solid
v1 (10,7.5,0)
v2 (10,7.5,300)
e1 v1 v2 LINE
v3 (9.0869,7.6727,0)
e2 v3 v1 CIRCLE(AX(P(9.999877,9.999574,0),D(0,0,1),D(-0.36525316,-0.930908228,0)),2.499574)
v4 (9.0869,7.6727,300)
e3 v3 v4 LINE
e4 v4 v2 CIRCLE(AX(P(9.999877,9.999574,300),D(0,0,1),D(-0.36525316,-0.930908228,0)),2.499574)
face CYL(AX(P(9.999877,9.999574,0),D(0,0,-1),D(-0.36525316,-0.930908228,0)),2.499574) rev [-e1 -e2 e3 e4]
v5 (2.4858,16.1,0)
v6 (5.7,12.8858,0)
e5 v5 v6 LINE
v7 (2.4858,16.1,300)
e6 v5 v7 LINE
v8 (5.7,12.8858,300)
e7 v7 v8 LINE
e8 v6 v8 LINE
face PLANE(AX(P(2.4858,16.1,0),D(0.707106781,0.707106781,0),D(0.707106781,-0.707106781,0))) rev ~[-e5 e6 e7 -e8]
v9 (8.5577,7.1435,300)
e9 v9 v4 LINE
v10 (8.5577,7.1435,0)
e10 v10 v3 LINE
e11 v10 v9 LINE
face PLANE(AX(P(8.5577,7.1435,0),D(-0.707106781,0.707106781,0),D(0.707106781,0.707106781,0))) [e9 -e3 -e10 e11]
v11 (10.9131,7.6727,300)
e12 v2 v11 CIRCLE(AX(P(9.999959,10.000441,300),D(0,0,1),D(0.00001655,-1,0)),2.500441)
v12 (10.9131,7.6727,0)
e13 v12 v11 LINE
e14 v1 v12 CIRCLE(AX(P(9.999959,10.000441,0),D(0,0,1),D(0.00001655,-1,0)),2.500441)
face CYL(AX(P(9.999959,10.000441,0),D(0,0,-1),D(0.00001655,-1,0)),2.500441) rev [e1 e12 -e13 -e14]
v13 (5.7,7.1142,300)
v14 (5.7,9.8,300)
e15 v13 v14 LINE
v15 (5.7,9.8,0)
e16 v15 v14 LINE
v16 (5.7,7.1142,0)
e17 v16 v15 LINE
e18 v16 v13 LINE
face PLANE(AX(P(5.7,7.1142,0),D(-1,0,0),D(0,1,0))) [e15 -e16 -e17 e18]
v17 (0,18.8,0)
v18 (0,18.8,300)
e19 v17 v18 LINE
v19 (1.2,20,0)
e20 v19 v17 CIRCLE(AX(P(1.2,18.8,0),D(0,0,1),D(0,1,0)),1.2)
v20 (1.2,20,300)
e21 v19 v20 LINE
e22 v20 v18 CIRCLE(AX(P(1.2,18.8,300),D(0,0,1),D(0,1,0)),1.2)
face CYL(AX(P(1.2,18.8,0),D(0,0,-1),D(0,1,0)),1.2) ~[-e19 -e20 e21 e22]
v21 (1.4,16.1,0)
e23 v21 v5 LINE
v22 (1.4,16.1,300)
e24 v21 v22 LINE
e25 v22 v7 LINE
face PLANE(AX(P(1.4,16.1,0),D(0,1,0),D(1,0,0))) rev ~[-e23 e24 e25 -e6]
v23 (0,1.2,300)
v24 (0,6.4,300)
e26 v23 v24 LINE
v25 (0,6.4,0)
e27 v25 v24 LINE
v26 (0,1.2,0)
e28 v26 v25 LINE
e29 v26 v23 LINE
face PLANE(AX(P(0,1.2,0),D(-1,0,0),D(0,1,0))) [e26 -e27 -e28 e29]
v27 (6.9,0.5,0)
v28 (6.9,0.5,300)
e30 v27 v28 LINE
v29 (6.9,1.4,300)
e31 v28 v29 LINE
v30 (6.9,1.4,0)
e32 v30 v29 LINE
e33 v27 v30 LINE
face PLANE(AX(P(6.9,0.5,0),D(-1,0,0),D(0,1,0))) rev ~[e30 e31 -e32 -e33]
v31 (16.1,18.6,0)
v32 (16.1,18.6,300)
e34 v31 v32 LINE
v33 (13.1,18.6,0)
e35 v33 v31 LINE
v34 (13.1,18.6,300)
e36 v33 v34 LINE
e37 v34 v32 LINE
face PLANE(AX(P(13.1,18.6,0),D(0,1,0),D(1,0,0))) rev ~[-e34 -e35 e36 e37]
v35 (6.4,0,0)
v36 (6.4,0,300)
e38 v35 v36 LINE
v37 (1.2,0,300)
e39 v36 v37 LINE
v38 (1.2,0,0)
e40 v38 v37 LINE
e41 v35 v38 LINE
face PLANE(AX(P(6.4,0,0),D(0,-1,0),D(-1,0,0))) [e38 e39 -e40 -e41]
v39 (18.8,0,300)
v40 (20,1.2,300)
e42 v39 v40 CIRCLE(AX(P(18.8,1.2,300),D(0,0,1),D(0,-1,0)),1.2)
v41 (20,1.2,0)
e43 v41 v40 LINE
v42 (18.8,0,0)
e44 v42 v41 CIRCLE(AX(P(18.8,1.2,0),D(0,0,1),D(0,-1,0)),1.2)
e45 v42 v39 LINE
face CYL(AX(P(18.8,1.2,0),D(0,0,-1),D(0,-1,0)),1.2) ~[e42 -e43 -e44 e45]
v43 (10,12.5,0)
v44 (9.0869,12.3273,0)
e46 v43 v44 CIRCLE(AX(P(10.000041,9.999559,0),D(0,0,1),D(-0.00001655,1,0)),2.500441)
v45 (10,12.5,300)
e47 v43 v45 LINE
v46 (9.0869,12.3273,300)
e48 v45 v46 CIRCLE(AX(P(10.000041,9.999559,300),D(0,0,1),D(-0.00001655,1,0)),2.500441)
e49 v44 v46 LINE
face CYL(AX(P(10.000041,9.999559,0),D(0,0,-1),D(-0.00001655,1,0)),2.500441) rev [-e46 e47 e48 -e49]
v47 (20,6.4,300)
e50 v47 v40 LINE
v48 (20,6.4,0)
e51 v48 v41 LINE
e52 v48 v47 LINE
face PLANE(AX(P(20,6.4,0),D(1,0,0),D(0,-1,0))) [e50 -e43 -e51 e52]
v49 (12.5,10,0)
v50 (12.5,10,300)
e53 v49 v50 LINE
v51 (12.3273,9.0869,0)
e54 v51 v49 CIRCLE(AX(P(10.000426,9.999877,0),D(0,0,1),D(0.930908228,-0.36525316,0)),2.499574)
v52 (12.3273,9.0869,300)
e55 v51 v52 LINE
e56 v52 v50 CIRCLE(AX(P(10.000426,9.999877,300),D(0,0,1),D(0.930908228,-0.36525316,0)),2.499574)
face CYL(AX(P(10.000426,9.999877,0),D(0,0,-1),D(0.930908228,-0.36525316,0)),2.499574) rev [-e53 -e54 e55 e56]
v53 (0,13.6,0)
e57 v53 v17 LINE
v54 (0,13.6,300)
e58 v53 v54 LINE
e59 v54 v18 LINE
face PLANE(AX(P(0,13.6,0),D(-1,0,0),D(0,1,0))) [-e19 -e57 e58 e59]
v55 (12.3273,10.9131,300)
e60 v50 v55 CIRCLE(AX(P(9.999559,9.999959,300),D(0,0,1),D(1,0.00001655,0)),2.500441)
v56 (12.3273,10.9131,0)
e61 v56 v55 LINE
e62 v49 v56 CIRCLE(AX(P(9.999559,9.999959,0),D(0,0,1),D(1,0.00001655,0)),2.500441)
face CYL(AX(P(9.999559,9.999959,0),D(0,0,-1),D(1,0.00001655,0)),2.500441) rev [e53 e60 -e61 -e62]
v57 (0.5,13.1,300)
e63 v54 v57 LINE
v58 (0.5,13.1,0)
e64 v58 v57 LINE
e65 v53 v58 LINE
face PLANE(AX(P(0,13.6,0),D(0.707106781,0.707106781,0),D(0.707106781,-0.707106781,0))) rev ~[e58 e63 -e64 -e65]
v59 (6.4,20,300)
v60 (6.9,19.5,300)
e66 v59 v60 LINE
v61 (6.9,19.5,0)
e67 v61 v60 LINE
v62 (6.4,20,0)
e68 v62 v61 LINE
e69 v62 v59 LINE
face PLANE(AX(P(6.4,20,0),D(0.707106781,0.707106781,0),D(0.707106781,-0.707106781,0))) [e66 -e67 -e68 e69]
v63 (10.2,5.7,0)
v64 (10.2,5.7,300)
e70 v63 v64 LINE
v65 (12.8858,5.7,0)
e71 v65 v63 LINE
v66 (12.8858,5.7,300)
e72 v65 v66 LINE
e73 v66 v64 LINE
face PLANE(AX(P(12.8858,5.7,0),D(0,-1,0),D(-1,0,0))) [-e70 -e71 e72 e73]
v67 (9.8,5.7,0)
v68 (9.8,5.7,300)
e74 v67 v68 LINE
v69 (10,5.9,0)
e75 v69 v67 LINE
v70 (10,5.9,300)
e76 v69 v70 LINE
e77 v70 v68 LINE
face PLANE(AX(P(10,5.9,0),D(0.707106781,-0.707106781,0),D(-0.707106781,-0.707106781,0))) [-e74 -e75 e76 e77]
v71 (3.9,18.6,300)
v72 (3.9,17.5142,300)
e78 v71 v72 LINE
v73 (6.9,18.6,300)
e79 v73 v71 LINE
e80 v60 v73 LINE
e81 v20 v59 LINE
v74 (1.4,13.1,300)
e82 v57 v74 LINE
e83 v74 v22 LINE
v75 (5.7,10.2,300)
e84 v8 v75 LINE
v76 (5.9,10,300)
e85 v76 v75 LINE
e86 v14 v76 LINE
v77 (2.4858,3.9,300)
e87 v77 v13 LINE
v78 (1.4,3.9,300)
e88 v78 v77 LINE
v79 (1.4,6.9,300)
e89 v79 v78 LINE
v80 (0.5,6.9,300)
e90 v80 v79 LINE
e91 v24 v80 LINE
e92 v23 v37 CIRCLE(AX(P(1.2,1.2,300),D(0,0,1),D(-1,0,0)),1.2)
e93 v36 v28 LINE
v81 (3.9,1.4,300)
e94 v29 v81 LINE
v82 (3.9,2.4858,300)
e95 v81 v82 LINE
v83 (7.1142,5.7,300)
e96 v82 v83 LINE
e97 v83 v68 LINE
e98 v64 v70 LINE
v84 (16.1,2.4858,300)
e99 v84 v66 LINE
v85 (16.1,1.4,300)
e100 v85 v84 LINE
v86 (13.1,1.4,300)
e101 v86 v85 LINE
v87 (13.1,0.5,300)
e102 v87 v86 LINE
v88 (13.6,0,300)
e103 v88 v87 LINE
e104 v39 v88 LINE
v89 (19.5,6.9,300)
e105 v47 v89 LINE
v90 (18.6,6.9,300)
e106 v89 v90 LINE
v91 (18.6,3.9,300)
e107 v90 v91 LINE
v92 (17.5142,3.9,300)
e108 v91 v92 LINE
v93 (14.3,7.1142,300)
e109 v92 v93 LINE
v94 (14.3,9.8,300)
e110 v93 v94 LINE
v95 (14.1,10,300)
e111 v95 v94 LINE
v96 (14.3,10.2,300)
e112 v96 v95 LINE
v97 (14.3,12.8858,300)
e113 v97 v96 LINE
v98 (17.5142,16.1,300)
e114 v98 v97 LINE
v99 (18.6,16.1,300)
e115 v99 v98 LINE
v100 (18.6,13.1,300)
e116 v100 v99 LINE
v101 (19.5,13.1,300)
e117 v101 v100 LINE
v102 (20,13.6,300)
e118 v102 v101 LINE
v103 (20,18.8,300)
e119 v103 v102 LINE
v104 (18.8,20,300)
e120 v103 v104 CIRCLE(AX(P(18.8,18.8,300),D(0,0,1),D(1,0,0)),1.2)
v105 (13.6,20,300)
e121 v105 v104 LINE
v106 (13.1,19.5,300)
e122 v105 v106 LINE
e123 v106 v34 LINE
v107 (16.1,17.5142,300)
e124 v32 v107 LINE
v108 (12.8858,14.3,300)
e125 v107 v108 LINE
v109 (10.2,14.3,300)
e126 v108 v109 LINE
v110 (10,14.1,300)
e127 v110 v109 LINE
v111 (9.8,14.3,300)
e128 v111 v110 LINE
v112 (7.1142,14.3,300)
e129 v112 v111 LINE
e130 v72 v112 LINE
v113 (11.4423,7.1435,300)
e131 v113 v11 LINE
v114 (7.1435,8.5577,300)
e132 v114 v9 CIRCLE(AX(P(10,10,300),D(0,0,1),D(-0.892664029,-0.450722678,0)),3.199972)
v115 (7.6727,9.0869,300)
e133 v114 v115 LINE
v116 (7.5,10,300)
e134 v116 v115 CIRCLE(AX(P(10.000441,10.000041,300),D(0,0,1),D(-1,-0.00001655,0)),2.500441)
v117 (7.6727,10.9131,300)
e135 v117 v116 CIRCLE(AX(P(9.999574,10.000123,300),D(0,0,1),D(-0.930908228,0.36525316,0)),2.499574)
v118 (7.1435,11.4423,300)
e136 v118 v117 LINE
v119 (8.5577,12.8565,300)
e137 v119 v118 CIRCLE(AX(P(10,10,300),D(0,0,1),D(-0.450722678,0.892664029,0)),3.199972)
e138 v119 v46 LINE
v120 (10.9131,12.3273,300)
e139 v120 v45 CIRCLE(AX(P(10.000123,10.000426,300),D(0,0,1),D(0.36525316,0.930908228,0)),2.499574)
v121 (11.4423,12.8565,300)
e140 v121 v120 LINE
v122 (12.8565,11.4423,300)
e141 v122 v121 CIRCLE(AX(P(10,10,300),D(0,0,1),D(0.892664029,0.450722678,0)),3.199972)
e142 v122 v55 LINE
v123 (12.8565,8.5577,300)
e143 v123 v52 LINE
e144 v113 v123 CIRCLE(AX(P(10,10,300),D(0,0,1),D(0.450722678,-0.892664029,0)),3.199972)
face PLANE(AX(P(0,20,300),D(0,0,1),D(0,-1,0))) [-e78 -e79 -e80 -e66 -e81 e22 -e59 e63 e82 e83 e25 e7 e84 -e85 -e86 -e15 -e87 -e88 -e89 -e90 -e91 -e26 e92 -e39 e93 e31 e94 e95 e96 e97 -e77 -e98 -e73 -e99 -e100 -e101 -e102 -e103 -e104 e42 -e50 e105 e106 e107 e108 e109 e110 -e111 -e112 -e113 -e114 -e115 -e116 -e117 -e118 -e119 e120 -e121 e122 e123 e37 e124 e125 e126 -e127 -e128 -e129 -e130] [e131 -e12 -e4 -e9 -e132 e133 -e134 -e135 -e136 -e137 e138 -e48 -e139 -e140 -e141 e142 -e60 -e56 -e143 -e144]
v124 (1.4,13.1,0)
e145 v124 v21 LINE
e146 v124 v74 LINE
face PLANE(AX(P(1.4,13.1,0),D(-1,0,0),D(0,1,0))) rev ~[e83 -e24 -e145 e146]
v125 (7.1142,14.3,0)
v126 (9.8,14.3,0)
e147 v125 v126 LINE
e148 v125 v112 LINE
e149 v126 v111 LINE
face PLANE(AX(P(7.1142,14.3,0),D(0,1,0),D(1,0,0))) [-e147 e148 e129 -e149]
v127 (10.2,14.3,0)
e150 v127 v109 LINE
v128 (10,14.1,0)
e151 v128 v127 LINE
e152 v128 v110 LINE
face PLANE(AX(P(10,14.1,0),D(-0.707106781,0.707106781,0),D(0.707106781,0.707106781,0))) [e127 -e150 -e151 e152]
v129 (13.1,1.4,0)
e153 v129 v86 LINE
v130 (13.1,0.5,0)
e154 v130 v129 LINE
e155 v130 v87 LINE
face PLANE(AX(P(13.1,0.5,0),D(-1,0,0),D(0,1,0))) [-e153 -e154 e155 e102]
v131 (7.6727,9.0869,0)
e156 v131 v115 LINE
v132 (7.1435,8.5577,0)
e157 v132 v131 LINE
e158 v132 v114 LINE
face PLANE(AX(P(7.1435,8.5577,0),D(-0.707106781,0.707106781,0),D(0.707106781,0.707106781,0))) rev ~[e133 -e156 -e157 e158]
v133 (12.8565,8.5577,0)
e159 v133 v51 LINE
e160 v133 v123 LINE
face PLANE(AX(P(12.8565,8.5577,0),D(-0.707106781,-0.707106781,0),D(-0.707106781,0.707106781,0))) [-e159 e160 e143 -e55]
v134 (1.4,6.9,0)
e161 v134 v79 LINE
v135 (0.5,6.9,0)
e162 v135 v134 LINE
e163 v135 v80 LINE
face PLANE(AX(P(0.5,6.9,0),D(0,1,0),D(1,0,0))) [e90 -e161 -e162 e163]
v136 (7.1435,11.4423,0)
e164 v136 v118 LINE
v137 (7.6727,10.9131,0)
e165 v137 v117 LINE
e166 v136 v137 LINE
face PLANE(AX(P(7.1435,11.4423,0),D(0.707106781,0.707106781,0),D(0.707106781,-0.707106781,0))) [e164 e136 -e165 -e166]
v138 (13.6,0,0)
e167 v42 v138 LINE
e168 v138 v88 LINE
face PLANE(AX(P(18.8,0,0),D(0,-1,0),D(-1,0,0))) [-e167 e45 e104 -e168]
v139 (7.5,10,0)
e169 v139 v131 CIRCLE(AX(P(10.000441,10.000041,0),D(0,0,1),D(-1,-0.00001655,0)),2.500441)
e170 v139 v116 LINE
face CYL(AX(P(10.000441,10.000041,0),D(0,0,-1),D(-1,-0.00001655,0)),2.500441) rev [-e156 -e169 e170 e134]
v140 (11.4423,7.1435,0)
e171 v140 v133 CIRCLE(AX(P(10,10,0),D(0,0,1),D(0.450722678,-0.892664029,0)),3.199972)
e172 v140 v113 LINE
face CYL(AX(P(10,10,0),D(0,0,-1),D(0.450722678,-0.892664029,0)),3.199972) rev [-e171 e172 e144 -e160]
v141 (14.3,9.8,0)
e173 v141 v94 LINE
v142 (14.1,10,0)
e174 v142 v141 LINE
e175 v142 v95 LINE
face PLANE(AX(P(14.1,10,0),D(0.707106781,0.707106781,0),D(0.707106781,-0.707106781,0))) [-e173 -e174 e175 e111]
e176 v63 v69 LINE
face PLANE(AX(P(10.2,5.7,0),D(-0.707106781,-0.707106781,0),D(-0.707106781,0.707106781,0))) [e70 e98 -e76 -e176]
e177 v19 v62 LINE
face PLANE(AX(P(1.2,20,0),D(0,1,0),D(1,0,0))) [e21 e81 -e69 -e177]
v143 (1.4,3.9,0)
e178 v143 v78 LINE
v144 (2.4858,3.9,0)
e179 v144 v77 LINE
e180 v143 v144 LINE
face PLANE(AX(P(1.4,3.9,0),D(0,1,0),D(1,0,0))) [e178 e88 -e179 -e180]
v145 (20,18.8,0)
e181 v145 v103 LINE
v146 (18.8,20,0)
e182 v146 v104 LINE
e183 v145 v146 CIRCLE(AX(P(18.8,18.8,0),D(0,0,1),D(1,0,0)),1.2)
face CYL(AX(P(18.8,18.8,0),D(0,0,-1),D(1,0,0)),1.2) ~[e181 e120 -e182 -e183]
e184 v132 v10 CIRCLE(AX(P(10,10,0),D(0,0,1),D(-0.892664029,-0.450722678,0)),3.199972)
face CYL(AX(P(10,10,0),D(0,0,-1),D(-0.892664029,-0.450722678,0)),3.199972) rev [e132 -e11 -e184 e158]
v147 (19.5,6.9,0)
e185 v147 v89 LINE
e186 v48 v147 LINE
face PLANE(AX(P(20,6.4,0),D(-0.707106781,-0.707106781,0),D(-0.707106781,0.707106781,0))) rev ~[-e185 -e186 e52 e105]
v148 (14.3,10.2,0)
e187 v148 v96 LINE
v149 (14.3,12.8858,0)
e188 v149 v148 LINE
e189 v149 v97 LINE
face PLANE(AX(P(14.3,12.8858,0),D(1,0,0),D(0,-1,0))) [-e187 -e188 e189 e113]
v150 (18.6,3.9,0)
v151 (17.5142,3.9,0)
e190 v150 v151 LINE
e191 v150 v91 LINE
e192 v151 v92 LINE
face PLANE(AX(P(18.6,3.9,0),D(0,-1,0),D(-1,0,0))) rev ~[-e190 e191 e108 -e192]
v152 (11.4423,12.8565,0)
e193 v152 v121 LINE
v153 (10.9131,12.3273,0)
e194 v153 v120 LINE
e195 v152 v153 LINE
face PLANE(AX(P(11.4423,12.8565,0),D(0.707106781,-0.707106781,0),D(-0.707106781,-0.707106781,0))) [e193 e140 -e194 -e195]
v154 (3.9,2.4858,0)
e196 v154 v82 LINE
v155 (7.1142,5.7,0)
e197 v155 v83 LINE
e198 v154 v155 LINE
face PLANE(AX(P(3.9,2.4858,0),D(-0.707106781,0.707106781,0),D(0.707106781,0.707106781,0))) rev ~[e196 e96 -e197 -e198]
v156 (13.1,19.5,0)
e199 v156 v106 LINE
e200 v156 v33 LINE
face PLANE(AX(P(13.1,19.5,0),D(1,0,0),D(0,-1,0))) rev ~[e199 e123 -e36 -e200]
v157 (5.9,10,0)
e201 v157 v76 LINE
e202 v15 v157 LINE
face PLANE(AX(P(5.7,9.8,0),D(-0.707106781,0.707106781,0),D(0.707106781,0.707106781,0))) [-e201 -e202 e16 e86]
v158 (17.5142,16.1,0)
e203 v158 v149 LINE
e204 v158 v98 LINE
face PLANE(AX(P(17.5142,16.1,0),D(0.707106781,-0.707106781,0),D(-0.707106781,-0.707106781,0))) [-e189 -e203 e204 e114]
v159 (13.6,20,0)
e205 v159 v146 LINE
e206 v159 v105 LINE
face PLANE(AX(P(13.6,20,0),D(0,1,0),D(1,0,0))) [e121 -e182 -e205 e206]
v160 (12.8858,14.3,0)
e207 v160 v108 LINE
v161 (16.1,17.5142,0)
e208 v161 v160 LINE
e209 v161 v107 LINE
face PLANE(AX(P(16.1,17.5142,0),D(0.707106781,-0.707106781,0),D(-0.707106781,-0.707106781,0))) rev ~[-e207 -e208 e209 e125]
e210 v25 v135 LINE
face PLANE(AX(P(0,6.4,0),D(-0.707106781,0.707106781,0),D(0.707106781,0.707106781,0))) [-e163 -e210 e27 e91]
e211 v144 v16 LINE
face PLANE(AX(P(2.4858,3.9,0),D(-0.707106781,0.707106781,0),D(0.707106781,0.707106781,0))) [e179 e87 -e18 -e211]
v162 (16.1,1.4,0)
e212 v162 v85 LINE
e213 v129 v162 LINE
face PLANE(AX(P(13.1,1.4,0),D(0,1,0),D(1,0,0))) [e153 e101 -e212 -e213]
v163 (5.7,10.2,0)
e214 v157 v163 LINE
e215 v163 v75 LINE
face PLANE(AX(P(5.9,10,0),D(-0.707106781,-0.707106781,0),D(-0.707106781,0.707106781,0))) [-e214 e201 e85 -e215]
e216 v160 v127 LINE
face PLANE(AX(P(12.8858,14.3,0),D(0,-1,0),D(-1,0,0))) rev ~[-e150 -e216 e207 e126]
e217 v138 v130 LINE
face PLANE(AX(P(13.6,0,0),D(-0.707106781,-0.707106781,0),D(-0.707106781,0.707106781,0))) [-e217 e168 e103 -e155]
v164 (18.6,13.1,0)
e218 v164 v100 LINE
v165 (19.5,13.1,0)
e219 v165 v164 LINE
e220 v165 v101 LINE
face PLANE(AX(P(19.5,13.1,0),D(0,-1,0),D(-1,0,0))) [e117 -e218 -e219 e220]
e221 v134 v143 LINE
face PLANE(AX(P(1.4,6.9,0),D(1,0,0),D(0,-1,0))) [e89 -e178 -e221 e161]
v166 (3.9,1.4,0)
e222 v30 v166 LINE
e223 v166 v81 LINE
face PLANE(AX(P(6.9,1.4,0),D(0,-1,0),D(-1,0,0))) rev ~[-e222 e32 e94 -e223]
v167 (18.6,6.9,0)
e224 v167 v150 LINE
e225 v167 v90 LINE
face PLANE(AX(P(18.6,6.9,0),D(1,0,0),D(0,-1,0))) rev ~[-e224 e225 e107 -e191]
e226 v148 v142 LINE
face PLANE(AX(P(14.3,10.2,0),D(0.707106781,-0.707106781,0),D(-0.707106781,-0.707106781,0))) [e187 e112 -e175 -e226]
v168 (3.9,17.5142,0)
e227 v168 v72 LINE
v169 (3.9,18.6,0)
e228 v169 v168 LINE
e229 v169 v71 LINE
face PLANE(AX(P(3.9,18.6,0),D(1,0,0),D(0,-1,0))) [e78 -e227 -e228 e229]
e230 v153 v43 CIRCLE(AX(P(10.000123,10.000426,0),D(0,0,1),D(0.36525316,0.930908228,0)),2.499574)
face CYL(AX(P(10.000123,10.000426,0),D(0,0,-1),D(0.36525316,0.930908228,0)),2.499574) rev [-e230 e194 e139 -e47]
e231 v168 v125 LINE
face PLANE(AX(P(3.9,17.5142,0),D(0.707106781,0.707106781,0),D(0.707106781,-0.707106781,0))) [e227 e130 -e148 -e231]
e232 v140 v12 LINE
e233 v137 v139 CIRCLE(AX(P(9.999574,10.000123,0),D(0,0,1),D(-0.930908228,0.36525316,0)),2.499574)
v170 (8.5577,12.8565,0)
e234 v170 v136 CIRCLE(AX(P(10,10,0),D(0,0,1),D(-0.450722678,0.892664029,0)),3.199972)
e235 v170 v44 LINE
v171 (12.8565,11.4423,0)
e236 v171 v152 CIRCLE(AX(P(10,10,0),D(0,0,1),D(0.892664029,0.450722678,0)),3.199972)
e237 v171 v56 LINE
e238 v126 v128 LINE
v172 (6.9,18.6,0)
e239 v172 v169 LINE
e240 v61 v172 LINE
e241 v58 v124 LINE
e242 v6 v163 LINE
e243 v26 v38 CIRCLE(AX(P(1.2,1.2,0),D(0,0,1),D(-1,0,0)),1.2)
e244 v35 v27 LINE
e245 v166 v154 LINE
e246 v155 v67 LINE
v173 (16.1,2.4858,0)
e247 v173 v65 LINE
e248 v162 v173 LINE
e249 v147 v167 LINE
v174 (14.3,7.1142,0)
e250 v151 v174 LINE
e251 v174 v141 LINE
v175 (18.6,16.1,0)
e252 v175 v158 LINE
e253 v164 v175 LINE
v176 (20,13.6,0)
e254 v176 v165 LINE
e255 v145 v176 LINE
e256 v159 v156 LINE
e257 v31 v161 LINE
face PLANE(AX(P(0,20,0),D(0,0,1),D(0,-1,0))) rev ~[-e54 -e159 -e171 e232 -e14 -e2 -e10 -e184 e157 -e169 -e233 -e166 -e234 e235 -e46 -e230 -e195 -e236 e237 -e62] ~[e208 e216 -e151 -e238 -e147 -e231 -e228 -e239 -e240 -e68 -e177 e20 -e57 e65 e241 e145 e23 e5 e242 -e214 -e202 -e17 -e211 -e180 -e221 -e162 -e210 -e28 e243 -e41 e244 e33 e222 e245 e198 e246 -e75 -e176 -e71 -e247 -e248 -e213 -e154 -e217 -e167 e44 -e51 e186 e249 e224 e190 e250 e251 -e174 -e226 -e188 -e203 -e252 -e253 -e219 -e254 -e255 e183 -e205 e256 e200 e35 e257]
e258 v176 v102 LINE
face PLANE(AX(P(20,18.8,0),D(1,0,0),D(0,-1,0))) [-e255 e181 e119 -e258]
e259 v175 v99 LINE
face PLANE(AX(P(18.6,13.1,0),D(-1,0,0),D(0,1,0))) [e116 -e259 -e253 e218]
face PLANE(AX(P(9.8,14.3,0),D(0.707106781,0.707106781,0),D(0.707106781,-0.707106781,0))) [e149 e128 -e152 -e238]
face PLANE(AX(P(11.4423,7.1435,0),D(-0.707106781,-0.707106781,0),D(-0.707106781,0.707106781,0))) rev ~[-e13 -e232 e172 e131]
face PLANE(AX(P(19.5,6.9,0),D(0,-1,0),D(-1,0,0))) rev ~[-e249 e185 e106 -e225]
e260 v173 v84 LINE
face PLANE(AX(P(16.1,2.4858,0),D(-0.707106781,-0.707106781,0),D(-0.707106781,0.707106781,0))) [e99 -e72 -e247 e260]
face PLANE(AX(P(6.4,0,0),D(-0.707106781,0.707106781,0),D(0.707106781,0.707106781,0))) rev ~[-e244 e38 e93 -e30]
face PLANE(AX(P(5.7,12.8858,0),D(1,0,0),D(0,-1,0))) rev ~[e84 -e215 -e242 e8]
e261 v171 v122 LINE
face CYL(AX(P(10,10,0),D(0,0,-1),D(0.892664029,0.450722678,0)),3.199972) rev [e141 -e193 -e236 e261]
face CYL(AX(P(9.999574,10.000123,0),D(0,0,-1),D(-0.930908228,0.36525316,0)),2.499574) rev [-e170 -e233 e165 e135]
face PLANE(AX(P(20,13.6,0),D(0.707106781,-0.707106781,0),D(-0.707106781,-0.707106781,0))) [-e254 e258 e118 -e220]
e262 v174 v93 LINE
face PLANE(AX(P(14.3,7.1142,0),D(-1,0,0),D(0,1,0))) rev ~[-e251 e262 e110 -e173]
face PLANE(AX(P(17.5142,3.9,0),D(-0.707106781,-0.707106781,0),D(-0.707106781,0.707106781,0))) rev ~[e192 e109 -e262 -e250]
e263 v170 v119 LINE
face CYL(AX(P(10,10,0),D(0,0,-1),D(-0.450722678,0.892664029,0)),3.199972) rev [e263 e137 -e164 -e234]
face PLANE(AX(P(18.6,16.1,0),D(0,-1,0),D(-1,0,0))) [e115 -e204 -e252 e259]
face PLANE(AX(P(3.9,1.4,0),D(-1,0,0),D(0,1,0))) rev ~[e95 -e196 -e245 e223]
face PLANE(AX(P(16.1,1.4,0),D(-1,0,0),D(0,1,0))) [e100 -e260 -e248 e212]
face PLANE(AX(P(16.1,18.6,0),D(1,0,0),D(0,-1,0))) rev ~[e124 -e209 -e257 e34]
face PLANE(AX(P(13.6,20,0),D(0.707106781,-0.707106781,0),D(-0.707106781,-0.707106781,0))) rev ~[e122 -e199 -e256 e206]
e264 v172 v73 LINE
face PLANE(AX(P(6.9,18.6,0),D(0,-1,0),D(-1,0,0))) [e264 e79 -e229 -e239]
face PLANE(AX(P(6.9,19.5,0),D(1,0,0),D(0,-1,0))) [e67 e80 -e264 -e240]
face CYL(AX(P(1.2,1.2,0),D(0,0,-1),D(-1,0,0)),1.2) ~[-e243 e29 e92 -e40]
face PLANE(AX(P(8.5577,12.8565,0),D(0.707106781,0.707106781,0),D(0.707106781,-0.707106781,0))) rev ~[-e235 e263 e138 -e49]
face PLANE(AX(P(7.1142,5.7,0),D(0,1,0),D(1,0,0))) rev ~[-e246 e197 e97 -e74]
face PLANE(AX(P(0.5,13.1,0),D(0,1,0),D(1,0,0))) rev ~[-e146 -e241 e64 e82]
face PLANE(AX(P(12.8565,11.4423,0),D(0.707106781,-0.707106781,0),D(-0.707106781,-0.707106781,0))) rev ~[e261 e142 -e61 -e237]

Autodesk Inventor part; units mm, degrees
ref_plane "YZ Plane" through (0, 0, 0) normal (1, 0, 0) x (0, 1, 0)
ref_plane "XZ Plane" through (0, 0, 0) normal (0, 1, 0) x (-1, 0, 0)
ref_plane "XY Plane" through (0, 0, 0) normal (0, 0, 1) x (1, 0, 0)
sketch "Sketch1" plane through (0, 0, 0) normal (0, 0, 1) x (1, 0, 0)
  line L0 (6.4, 0) -> (1.2, 0)
  line L1 (0, 1.2) -> (0, 6.4)
  line L2 (0.5, 6.9) -> (1.4, 6.9)
  line L3 (1.4, 6.9) -> (1.4, 3.9)
  line L4 (2.4858, 3.9) -> (5.7, 7.1142)
  line L5 (5.7, 7.1142) -> (5.7, 9.8)
  line L6 (3.9, 2.4858) -> (7.1142, 5.7)
  line L7 (7.1142, 5.7) -> (9.8, 5.7)
  line L8 (7.1435, 8.5577) -> (7.6727, 9.0869)
  line L9 (8.5577, 7.1435) -> (9.0869, 7.6727)
  line L10 (6.9, 0.5) -> (6.9, 1.4)
  line L11 (6.9, 1.4) -> (3.9, 1.4)
  line L12 (5.9, 10) -> (24.7723, 10) construction
  line L13 (10, 21.5486) -> (10, 5.9) construction
  line L14 (1.4, 3.9) -> (2.4858, 3.9)
  line L15 (3.9, 1.4) -> (3.9, 2.4858)
  arc A0 (7.5, 10) -> (7.6727, 9.0869) centre (10, 10) ccw
  arc A1 (9.0869, 7.6727) -> (10, 7.5) centre (10, 10) ccw
  line L16 (14.358, 14.358) -> (-3.5262, -3.5262) construction
  arc A2 (7.1435, 8.5577) -> (8.5577, 7.1435) centre (10, 10) ccw
  line L17 (7.5, 10) -> (5.9, 10)
  line L18 (10, 7.5) -> (10, 5.9)
  arc A3 (0, 1.2) -> (1.2, 0) centre (1.2, 1.2) ccw
  line L19 (0, 6.4) -> (0.5, 6.9)
  line L20 (6.4, 0) -> (6.9, 0.5)
  line L21 (5.7, 9.8) -> (5.9, 10)
  line L22 (10, 5.9) -> (9.8, 5.7)
  point P0 (0, 0)
  point P1 (6.9, 0)
  point P2 (0, 6.9)
  point P3 (5.7, 10)
  point P4 (10, 5.7)
  dimension "d0" = 10
  dimension "d1" = 10
  dimension "d3" = 1.4
  dimension "d4" = 6.1
  dimension "d5" = 6.1
  dimension "d6" = 3.1
  dimension "d7" = 3.1
  dimension "d9" = 5.7
  dimension "d10" = 5.7
  dimension "d12" = 2
  dimension "d14" = 2.5
  dimension "d15" = 3.2
  dimension "d21" = 1.2
  dimension "d22" = 0.5
  dimension "d23" = 0.5
  dimension "d24" = 0.5
  dimension "d25" = 0.5
  dimension "d26" = 0.2
  dimension "d27" = 0.2
  dimension "d28" = 0.2
  dimension "d29" = 0.2
extrude "Extrusion2" add sketch "Sketch1" along normal blind 300
pattern_circular "Circular Pattern2" count 4 over 360 about axis through (10, 10, 300) along (0, 0, 1) of "Extrusion2"
equation "\"d5\" = d4"
equation "\"d7\" = d6"
equation "\"d10\" = d9"
equation "\"d23\" = d22"
equation "\"d24\" = d22"
equation "\"d25\" = d24"
equation "\"d27\" = d26"
equation "\"d28\" = d26"
equation "\"d29\" = d28"
properties part number "profile"
